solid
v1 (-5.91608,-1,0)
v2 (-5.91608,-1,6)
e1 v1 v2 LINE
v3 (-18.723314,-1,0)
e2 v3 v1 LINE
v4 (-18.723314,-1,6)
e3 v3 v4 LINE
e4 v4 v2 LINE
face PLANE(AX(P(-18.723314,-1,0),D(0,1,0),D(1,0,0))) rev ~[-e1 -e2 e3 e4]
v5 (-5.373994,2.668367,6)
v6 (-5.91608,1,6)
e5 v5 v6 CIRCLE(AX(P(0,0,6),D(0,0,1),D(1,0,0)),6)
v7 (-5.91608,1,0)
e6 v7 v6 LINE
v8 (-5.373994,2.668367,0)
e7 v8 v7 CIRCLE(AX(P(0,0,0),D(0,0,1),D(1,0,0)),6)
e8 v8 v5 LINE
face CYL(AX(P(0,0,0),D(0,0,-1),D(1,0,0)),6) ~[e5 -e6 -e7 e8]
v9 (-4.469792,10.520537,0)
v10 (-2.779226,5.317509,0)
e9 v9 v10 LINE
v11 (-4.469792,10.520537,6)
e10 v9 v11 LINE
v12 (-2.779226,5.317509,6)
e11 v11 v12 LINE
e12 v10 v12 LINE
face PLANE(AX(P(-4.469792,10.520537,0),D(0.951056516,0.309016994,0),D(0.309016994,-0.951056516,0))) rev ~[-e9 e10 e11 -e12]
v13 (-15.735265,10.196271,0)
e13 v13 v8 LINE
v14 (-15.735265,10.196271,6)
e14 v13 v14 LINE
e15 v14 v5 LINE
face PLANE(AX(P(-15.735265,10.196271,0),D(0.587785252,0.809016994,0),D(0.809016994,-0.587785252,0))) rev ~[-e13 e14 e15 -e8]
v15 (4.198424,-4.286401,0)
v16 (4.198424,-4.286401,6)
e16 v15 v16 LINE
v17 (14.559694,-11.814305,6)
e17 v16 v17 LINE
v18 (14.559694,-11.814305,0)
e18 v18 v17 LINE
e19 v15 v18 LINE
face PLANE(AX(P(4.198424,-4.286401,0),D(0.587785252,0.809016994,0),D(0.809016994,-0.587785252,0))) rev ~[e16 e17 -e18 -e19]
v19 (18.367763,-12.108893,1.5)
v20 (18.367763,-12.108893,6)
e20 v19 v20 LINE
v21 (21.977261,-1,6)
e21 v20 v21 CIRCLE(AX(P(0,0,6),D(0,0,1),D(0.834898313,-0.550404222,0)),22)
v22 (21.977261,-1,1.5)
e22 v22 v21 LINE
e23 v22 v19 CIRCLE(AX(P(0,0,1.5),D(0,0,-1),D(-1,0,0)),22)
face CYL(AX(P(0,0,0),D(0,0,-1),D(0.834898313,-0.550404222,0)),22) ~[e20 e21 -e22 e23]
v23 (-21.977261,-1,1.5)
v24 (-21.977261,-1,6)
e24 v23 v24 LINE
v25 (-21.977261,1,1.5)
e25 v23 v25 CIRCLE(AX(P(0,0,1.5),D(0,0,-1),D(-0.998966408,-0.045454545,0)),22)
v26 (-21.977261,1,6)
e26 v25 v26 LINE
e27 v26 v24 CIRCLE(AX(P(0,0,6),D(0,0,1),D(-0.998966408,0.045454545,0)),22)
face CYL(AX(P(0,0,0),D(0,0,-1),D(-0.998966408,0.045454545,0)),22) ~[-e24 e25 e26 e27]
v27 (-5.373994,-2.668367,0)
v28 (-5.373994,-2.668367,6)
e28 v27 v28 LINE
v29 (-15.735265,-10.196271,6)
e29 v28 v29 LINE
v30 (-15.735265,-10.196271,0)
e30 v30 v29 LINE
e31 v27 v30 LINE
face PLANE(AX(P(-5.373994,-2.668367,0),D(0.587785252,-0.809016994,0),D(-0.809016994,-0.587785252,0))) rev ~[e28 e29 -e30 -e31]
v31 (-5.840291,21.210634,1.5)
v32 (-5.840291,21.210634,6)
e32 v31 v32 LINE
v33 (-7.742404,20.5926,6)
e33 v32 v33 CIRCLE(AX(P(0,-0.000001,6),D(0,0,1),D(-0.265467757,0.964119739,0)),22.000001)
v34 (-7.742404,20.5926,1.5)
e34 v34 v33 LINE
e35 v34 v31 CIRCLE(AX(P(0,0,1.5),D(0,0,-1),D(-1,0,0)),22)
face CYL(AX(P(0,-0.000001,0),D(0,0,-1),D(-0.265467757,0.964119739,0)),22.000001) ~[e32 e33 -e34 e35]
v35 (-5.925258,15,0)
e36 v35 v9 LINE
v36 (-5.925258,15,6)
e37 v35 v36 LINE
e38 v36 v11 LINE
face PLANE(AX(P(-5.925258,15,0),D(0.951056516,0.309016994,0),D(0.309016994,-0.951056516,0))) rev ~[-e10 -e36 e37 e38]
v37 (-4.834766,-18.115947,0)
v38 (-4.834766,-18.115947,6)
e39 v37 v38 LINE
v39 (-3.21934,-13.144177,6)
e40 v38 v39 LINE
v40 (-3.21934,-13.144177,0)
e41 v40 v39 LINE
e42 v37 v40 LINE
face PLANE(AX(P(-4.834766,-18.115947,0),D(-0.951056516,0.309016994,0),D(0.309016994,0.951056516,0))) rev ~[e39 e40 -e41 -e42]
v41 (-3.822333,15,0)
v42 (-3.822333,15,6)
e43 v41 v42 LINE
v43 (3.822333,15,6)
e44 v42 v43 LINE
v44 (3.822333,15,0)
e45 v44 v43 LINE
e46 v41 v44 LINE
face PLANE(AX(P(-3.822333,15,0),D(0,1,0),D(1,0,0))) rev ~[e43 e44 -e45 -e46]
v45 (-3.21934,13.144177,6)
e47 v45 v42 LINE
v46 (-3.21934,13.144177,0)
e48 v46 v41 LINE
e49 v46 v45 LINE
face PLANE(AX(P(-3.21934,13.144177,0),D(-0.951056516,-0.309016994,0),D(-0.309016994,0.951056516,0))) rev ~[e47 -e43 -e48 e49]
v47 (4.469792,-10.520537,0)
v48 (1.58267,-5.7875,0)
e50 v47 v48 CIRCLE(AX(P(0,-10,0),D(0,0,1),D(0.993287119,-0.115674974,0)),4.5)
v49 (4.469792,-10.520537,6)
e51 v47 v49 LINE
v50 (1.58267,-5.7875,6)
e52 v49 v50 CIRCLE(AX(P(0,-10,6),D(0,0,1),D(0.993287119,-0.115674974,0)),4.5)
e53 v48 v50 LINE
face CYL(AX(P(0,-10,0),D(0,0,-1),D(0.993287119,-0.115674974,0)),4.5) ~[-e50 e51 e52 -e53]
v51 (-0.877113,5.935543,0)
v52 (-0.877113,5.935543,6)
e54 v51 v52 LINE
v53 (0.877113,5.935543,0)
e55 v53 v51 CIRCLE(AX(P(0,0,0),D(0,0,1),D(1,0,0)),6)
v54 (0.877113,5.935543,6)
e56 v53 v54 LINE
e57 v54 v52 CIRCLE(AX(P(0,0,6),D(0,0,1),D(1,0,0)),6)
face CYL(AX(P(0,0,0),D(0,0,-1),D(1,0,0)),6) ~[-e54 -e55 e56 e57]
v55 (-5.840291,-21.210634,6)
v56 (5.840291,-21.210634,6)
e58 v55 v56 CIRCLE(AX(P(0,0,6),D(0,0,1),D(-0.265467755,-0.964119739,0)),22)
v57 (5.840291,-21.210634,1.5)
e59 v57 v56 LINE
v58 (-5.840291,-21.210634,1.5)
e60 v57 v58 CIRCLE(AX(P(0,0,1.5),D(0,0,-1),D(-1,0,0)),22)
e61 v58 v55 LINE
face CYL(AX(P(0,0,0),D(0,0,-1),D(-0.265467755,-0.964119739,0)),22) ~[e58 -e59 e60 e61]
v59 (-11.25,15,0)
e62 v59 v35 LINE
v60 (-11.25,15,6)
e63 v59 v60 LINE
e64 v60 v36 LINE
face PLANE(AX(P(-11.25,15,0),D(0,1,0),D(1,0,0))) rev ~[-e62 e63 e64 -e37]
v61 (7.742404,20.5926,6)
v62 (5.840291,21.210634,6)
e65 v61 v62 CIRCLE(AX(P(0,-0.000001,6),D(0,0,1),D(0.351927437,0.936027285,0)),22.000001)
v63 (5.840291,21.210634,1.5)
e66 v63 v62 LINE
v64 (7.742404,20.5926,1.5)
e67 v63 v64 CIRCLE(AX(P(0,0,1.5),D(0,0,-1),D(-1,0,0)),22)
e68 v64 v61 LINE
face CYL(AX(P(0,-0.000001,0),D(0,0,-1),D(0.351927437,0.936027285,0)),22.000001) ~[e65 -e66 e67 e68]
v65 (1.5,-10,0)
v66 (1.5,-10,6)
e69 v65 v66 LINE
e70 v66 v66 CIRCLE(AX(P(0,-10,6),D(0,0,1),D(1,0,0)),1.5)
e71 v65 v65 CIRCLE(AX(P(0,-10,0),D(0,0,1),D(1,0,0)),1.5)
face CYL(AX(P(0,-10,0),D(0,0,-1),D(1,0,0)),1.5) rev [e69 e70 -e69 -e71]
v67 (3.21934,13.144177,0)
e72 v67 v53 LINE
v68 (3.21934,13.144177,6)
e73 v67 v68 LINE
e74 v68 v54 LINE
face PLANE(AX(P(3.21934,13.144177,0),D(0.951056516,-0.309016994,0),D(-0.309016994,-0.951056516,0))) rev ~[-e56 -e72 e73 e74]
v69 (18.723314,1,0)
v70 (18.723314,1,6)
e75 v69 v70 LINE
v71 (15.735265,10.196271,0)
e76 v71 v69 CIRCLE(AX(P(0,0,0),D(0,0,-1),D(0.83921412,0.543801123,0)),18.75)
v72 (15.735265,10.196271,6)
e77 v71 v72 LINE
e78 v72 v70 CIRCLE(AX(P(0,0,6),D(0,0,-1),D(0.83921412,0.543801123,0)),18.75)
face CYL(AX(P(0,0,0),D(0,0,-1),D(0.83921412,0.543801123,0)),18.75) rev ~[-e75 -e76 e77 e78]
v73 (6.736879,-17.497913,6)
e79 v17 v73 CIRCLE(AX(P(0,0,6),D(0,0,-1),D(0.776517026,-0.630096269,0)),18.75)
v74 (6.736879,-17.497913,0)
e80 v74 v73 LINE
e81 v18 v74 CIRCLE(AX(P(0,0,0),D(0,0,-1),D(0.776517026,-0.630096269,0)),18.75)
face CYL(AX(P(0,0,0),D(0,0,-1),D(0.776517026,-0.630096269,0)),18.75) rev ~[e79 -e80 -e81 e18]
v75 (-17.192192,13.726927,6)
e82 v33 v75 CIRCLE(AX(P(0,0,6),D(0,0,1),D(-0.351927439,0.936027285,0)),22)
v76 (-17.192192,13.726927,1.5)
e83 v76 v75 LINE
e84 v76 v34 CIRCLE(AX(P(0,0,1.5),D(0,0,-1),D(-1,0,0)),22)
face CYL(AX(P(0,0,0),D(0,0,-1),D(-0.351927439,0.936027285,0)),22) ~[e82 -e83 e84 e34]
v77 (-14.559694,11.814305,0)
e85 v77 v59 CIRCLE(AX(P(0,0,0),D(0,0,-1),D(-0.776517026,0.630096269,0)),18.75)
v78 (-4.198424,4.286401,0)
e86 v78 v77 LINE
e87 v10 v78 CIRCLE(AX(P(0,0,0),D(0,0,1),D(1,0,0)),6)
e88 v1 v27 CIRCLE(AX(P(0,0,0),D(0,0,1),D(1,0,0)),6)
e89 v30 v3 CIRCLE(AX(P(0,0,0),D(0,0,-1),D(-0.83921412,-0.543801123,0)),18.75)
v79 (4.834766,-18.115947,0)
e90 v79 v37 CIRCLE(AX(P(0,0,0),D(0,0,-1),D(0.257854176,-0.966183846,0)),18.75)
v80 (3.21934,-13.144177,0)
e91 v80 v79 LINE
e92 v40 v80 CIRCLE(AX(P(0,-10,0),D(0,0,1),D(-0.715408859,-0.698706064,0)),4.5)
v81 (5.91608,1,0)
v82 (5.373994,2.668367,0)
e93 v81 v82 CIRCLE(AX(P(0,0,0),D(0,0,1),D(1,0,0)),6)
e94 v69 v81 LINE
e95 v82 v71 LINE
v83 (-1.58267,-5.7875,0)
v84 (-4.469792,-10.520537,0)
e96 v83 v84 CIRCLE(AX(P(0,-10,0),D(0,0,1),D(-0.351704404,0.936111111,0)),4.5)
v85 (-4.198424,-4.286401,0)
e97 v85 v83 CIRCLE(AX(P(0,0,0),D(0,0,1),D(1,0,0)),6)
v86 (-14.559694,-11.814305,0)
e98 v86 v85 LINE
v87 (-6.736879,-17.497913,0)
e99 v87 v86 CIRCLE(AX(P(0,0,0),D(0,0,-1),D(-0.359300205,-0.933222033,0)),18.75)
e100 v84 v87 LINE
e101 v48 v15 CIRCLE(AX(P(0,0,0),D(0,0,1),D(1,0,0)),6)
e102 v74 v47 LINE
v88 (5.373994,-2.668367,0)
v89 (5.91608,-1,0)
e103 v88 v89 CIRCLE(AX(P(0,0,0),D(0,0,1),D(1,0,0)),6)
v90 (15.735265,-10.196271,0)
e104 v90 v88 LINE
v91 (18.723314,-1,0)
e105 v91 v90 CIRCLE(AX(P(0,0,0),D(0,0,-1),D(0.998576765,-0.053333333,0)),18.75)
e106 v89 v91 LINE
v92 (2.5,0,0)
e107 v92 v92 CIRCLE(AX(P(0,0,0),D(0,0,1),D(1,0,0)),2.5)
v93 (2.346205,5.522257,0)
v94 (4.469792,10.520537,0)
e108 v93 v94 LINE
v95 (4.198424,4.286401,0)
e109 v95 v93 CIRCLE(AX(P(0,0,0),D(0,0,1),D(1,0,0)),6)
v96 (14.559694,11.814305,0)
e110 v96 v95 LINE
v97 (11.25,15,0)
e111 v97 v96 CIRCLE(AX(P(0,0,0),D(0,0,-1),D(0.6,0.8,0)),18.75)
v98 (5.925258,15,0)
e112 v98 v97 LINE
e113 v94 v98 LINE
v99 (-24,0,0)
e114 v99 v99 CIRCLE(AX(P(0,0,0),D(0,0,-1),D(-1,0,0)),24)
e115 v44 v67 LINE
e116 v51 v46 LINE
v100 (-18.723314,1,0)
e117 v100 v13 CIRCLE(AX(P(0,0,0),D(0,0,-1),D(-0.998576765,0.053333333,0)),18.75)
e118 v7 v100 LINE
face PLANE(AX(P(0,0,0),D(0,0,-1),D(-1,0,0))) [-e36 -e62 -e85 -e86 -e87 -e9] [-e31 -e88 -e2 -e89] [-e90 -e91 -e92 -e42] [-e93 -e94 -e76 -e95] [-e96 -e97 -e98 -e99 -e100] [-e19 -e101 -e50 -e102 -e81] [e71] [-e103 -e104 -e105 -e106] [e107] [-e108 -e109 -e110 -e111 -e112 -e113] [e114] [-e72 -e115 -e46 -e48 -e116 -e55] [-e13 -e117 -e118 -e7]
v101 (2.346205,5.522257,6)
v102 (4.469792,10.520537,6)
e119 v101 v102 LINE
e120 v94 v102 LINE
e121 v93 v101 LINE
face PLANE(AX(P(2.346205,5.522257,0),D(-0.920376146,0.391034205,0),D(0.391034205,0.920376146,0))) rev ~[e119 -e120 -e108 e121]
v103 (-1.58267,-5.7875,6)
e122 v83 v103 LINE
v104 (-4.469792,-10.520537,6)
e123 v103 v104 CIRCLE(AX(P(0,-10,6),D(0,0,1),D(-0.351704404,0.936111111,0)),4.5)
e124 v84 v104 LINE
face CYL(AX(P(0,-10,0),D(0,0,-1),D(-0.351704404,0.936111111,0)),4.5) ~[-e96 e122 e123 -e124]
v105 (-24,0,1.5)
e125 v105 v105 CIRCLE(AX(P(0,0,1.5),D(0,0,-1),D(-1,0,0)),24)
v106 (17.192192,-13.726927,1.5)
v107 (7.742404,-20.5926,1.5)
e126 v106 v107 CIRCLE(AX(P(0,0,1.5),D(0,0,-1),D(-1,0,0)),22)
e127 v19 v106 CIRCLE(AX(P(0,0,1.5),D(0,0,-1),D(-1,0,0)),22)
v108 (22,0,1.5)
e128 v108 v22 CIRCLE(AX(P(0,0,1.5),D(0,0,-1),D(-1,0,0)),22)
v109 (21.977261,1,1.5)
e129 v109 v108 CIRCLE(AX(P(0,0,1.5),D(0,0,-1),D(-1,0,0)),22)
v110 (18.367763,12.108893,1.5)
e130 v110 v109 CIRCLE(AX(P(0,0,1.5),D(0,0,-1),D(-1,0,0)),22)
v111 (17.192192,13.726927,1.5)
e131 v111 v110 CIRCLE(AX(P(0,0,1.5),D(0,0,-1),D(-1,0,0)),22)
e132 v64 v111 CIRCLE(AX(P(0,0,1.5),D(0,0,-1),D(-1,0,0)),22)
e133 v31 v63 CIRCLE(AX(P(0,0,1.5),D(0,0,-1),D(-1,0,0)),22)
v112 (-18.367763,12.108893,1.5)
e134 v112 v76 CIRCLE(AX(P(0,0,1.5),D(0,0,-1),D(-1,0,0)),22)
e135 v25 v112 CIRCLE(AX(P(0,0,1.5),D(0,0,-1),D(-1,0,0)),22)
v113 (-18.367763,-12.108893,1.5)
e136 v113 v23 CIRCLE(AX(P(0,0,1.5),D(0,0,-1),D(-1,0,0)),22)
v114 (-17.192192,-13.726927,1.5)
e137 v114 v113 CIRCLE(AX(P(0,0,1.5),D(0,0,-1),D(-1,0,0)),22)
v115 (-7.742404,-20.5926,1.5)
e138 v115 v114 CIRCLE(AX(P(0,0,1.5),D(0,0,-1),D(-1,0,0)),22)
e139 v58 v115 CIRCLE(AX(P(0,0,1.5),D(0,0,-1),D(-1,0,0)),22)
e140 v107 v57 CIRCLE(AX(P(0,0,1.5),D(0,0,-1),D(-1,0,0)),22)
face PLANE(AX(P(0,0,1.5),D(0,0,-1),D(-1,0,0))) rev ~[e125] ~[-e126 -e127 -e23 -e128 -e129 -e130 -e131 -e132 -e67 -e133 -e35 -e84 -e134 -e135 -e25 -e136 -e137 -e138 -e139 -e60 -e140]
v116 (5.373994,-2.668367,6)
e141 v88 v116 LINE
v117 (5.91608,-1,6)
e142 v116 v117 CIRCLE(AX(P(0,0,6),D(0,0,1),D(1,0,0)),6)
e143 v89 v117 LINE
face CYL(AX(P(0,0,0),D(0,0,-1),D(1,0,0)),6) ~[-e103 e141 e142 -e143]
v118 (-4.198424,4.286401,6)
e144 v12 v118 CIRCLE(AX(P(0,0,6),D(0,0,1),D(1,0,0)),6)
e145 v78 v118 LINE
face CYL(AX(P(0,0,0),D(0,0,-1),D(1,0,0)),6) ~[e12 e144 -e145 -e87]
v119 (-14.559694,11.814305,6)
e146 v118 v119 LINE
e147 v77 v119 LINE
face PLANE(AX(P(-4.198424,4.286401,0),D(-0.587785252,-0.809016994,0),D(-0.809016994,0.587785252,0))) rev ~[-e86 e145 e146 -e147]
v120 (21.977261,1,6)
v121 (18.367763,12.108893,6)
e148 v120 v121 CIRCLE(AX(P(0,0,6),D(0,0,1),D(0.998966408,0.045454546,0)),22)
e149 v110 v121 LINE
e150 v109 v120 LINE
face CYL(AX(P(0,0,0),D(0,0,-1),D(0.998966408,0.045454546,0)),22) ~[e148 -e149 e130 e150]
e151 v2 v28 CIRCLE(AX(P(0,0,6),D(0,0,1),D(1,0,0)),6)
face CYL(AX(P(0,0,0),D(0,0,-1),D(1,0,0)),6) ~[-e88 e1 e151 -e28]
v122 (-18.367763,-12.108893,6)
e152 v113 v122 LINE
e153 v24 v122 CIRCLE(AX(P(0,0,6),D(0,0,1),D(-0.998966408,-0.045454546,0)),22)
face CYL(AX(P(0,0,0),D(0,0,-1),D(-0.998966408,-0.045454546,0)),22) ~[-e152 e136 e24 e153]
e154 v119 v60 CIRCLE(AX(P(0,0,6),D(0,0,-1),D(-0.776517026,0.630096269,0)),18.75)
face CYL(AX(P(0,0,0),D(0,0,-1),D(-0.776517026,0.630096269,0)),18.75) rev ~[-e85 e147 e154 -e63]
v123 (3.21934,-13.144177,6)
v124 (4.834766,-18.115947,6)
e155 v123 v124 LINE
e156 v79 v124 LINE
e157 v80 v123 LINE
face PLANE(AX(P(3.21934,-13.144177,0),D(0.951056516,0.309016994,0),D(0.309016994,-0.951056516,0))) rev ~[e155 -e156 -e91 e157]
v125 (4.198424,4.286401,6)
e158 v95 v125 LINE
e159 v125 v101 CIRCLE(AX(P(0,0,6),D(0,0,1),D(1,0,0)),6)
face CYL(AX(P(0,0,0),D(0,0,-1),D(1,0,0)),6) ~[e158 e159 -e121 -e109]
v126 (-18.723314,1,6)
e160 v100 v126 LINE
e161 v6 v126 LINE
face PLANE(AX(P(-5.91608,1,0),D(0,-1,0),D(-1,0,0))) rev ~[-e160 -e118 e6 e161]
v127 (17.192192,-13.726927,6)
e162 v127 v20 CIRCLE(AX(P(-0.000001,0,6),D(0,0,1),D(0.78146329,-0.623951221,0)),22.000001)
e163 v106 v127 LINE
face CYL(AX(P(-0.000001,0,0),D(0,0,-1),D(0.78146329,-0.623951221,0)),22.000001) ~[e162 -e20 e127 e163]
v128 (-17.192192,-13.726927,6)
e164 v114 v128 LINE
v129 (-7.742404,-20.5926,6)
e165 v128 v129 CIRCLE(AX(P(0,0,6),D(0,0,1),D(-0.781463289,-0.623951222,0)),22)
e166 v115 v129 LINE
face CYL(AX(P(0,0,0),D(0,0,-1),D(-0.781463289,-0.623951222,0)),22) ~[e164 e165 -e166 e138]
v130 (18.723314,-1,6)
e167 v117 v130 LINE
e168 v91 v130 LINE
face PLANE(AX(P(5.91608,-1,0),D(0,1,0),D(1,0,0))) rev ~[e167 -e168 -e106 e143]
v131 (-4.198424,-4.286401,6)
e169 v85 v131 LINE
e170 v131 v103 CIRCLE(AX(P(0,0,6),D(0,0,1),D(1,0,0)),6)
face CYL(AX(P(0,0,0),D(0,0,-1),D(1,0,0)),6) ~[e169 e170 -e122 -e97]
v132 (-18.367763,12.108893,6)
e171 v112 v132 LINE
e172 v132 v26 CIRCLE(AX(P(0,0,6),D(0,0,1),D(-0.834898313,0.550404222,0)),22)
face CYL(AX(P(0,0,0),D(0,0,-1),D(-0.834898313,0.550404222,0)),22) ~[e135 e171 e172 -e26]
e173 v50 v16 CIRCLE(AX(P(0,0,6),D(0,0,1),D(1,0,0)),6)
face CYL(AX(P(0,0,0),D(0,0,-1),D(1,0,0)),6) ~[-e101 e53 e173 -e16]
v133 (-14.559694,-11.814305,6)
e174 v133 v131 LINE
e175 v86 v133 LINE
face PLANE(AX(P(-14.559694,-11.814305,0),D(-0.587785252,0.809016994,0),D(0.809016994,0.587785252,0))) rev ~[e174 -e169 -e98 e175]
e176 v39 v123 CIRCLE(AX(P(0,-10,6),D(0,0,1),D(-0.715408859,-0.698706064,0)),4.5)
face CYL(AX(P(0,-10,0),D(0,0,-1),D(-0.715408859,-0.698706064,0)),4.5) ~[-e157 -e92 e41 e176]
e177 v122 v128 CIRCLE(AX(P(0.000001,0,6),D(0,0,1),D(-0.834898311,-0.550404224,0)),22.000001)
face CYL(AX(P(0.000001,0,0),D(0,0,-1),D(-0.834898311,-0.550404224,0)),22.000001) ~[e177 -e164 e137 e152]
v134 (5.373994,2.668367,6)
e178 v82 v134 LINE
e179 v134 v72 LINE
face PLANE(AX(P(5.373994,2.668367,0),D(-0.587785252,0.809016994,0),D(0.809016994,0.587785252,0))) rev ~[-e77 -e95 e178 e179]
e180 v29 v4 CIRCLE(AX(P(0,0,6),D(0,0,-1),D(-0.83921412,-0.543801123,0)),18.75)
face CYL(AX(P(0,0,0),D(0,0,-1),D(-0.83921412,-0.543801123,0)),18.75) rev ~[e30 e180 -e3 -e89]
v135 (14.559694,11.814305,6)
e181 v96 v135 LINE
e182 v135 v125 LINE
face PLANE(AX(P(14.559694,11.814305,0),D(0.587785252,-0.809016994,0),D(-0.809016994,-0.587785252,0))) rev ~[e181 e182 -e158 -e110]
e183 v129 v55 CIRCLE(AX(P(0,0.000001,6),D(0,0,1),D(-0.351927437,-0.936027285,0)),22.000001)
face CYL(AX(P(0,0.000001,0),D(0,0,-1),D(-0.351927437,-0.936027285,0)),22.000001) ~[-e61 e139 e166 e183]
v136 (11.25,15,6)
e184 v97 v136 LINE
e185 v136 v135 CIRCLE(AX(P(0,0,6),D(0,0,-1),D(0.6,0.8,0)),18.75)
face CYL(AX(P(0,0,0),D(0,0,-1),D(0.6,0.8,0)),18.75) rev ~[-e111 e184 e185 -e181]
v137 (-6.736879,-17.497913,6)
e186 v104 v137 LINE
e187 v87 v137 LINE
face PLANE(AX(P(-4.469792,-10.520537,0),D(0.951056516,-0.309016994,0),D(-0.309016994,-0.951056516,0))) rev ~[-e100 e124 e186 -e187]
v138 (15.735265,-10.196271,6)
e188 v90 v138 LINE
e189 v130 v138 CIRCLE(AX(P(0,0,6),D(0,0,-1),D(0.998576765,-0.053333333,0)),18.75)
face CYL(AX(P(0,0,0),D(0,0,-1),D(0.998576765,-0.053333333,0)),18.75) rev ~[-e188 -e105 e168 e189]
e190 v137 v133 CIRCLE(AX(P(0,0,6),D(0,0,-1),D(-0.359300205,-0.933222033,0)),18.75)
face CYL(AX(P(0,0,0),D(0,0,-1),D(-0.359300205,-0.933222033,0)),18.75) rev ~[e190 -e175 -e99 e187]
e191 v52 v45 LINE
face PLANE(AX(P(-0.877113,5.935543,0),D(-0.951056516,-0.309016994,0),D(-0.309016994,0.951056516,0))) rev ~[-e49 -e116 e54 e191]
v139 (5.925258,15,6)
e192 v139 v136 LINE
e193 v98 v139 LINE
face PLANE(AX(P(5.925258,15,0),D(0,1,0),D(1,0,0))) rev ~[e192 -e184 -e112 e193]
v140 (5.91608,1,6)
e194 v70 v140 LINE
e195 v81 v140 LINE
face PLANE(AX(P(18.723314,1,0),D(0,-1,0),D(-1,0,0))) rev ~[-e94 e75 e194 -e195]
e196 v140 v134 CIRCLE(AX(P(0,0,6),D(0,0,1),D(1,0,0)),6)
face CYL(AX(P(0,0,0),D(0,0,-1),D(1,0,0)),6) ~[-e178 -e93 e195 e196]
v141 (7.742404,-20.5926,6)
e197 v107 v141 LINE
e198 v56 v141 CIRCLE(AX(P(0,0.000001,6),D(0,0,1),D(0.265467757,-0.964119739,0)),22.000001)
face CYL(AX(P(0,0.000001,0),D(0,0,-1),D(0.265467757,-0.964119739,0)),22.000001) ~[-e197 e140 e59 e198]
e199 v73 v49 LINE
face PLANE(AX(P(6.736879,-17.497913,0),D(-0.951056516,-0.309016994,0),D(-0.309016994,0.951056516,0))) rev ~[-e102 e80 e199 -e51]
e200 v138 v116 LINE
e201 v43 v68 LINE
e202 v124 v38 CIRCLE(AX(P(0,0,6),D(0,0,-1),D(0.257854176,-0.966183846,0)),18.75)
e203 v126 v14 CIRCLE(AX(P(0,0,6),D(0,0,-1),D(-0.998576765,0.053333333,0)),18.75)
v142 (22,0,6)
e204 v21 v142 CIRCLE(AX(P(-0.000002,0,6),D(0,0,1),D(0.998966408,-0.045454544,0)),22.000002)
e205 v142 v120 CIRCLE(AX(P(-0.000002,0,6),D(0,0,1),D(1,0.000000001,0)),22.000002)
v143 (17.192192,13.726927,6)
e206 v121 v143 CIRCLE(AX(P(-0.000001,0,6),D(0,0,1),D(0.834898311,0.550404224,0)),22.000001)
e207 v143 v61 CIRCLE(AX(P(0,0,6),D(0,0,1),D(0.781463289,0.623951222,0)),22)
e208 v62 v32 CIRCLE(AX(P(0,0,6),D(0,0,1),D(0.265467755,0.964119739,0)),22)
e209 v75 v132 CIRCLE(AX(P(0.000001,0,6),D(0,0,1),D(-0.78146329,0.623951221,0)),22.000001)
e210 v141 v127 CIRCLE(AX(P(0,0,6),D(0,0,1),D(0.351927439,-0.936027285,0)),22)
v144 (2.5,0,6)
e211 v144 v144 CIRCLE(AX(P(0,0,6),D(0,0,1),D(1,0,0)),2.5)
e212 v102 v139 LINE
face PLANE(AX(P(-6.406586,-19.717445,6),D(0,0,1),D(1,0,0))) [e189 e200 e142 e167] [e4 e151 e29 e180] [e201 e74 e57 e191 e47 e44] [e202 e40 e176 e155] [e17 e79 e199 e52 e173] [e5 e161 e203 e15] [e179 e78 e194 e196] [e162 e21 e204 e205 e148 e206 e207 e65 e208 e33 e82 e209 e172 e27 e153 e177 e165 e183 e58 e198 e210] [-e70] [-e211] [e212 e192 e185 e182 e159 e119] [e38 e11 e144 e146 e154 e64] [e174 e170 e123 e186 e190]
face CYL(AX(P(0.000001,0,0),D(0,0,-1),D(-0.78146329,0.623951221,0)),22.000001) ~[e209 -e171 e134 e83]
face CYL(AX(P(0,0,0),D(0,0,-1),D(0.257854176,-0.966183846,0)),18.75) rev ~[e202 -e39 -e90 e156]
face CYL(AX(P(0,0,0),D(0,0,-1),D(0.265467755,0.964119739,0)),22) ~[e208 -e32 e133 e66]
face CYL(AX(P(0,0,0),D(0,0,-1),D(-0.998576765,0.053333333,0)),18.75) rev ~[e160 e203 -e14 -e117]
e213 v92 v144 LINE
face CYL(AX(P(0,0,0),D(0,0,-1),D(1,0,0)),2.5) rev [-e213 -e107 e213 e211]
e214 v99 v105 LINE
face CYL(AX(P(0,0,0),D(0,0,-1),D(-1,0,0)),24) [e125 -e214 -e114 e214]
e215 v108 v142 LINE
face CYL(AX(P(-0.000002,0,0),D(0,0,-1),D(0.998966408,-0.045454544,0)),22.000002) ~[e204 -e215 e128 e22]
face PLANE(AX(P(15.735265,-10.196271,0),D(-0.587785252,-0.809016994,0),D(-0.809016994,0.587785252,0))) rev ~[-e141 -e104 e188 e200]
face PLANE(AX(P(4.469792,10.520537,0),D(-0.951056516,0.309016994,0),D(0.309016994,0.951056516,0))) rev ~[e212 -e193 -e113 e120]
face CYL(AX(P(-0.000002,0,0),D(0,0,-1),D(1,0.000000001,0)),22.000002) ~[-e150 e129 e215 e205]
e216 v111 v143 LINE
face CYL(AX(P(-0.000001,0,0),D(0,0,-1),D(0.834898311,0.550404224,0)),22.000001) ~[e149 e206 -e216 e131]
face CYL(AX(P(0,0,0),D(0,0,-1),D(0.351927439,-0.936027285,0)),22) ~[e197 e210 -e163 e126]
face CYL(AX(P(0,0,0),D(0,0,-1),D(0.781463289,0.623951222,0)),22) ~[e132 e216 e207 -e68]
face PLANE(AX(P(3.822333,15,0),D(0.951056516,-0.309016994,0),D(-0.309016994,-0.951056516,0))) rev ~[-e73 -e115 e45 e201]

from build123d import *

# Parameters (mm, degrees)
ESQUISSE1_R        = 6
ESQUISSE1_R_2      = 2.5
ESQUISSE1_R_3      = 1.5
BOSS_EXTRU_1_DEPTH = 6
ESQUISSE4_R        = 24
ESQUISSE4_R_2      = 22
BOSS_EXTRU_3_DEPTH = 1.5


with BuildPart() as part:
    # Esquisse1 → Boss.-Extru.1 (new body)
    # profile 1 of 57: a face of its own
    with BuildSketch(Plane.XY):
        Circle(ESQUISSE1_R)
        Circle(ESQUISSE1_R_2, mode=Mode.SUBTRACT)
    # profile 2 of 57: a face of its own
    with BuildSketch(Plane.XY):
        with BuildLine():
            ThreePointArc((4.469792035, -10.520537382), (3.841677281, -7.656601684), (1.582669817, -5.7875))
            ThreePointArc((1.582669817, -5.7875), (0, -6), (-1.582669817, -5.7875))
            ThreePointArc((-1.582669817, -5.7875), (-3.841677281, -7.656601684), (-4.469792035, -10.520537382))
            ThreePointArc((-4.469792035, -10.520537382), (-4.06221109, -11.936089115), (-3.219339867, -13.144177288))
            ThreePointArc((-3.219339867, -13.144177288), (0, -14.5), (3.219339867, -13.144177288))
            ThreePointArc((3.219339867, -13.144177288), (4.06221109, -11.936089115), (4.469792035, -10.520537382))
        make_face()
        with Locations((0, -10)):
            Circle(ESQUISSE1_R_3, mode=Mode.SUBTRACT)
    # profile 3 of 57: a face of its own
    with BuildSketch(Plane.XY):
        with BuildLine():
            ThreePointArc((4.834765807, -18.115947107), (5.794068645, -17.832309681), (6.736878839, -17.497913119))
            Line((6.736878839, -17.497913119), (4.469792035, -10.520537382))
            ThreePointArc((4.469792035, -10.520537382), (4.06221109, -11.936089115), (3.219339867, -13.144177288))
            Line((3.219339867, -13.144177288), (4.834765807, -18.115947107))
        make_face()
    # profile 4 of 57: a face of its own
    with BuildSketch(Plane.XY):
        with BuildLine():
            ThreePointArc((-3.219339867, -13.144177288), (-4.06221109, -11.936089115), (-4.469792035, -10.520537382))
            Line((-4.469792035, -10.520537382), (-6.736878839, -17.497913119))
            ThreePointArc((-6.736878839, -17.497913119), (-5.794068645, -17.832309681), (-4.834765807, -18.115947107))
            Line((-4.834765807, -18.115947107), (-3.219339867, -13.144177288))
        make_face()
    # profile 5 of 57: a face of its own
    with BuildSketch(Plane.XY):
        with BuildLine():
            Line((-14.559694243, -11.814305039), (-4.198423832, -4.286401442))
            ThreePointArc((-4.198423832, -4.286401442), (-4.854101966, -3.526711514), (-5.373994337, -2.668367454))
            Line((-5.373994337, -2.668367454), (-15.735264747, -10.196271051))
            ThreePointArc((-15.735264747, -10.196271051), (-15.169068645, -11.02097348), (-14.559694243, -11.814305039))
        make_face()
    # profile 6 of 57: a face of its own
    with BuildSketch(Plane.XY):
        with BuildLine():
            Line((-18.723314343, -1), (-5.916079783, -1))
            ThreePointArc((-5.916079783, -1), (-6, 0), (-5.916079783, 1))
            Line((-5.916079783, 1), (-18.723314343, 1))
            ThreePointArc((-18.723314343, 1), (-18.75, 0), (-18.723314343, -1))
        make_face()
    # profile 7 of 57: a face of its own
    with BuildSketch(Plane.XY):
        with BuildLine():
            Line((-15.735264747, 10.196271051), (-5.373994337, 2.668367454))
            ThreePointArc((-5.373994337, 2.668367454), (-4.854101966, 3.526711514), (-4.198423832, 4.286401442))
            Line((-4.198423832, 4.286401442), (-14.559694243, 11.814305039))
            ThreePointArc((-14.559694243, 11.814305039), (-15.169068645, 11.02097348), (-15.735264747, 10.196271051))
        make_face()
    # profile 8 of 57: a face of its own
    with BuildSketch(Plane.XY):
        with BuildLine():
            ThreePointArc((-2.779225709, 5.317509234), (-1.854101966, 5.706339098), (-0.877112677, 5.935543223))
            Line((-0.877112677, 5.935543223), (-3.219339867, 13.144177288))
            Line((-3.219339867, 13.144177288), (-3.822333219, 15))
            Line((-3.822333219, 15), (-5.925257668, 15))
            Line((-5.925257668, 15), (-4.469792035, 10.520537382))
            Line((-4.469792035, 10.520537382), (-2.779225709, 5.317509234))
        make_face()
    # profile 9 of 57: a face of its own
    with BuildSketch(Plane.XY):
        with BuildLine():
            ThreePointArc((0.877112677, 5.935543223), (1.624852602, 5.775798994), (2.346205228, 5.522256878))
            Line((2.346205228, 5.522256878), (4.469792035, 10.520537382))
            Line((4.469792035, 10.520537382), (5.925257668, 15))
            Line((5.925257668, 15), (3.822333219, 15))
            Line((3.822333219, 15), (3.219339867, 13.144177288))
            Line((3.219339867, 13.144177288), (0.877112677, 5.935543223))
        make_face()
    # profile 10 of 57: a face of its own
    with BuildSketch(Plane.XY):
        with BuildLine():
            ThreePointArc((4.198423832, 4.286401442), (4.854101966, 3.526711514), (5.373994337, 2.668367454))
            Line((5.373994337, 2.668367454), (15.735264747, 10.196271051))
            ThreePointArc((15.735264747, 10.196271051), (15.169068645, 11.02097348), (14.559694243, 11.814305039))
            Line((14.559694243, 11.814305039), (4.198423832, 4.286401442))
        make_face()
    # profile 11 of 57: a face of its own
    with BuildSketch(Plane.XY):
        with BuildLine():
            ThreePointArc((6, 0), (5.978983137, -0.501757562), (5.916079783, -1))
            Line((5.916079783, -1), (18.723314343, -1))
            ThreePointArc((18.723314343, -1), (18.743327399, -0.500177999), (18.75, 0))
            ThreePointArc((18.75, 0), (18.743327399, 0.500177999), (18.723314343, 1))
            Line((18.723314343, 1), (5.916079783, 1))
            ThreePointArc((5.916079783, 1), (5.978983137, 0.501757562), (6, 0))
        make_face()
    # profile 12 of 57: a face of its own
    with BuildSketch(Plane.XY):
        with BuildLine():
            Line((15.735264747, -10.196271051), (5.373994337, -2.668367454))
            ThreePointArc((5.373994337, -2.668367454), (4.854101966, -3.526711514), (4.198423832, -4.286401442))
            Line((4.198423832, -4.286401442), (14.559694243, -11.814305039))
            ThreePointArc((14.559694243, -11.814305039), (15.169068645, -11.02097348), (15.735264747, -10.196271051))
        make_face()
    # profile 13 of 57: a face of its own
    with BuildSketch(Plane.XY):
        with BuildLine():
            ThreePointArc((-6.968959178, -18.212182955), (-11.46181242, -15.77583139), (-15.167288456, -12.255748075))
            Line((-15.167288456, -12.255748075), (-17.192192367, -13.726926882))
            ThreePointArc((-17.192192367, -13.726926882), (-12.93127555, -17.798373876), (-7.742403648, -20.592600267))
            Line((-7.742403648, -20.592600267), (-6.968959178, -18.212182955))
        make_face()
    # profile 14 of 57: a face of its own
    with BuildSketch(Plane.XY):
        with BuildLine():
            Line((-17.192192367, -13.726926882), (-15.167288456, -12.255748075))
            ThreePointArc((-15.167288456, -12.255748075), (-15.77583139, -11.46181242), (-16.342858961, -10.637714087))
            Line((-16.342858961, -10.637714087), (-18.367762872, -12.108892893))
            ThreePointArc((-18.367762872, -12.108892893), (-17.798373876, -12.93127555), (-17.192192367, -13.726926882))
        make_face()
    # profile 15 of 57: a face of its own
    with BuildSketch(Plane.XY):
        with BuildLine():
            Line((-18.367762872, -12.108892893), (-16.342858961, -10.637714087))
            ThreePointArc((-16.342858961, -10.637714087), (-18.545602068, -6.02583139), (-19.474342094, -1))
            Line((-19.474342094, -1), (-21.977260976, -1))
            ThreePointArc((-21.977260976, -1), (-20.923243358, -6.798373876), (-18.367762872, -12.108892893))
        make_face()
    # profile 16 of 57: a face of its own
    with BuildSketch(Plane.XY):
        with BuildLine():
            Line((-21.977260976, -1), (-19.474342094, -1))
            ThreePointArc((-19.474342094, -1), (-19.5, 0), (-19.474342094, 1))
            Line((-19.474342094, 1), (-21.977260976, 1))
            ThreePointArc((-21.977260976, 1), (-22, 0), (-21.977260976, -1))
        make_face()
    # profile 17 of 57: a face of its own
    with BuildSketch(Plane.XY):
        with BuildLine():
            Line((-21.977260976, 1), (-19.474342094, 1))
            ThreePointArc((-19.474342094, 1), (-18.545602068, 6.02583139), (-16.342858961, 10.637714087))
            Line((-16.342858961, 10.637714087), (-18.367762872, 12.108892893))
            ThreePointArc((-18.367762872, 12.108892893), (-20.923243358, 6.798373876), (-21.977260976, 1))
        make_face()
    # profile 18 of 57: a face of its own
    with BuildSketch(Plane.XY):
        with BuildLine():
            Line((-18.367762872, 12.108892893), (-16.342858961, 10.637714087))
            ThreePointArc((-16.342858961, 10.637714087), (-15.77583139, 11.46181242), (-15.167288456, 12.255748075))
            Line((-15.167288456, 12.255748075), (-17.192192367, 13.726926882))
            ThreePointArc((-17.192192367, 13.726926882), (-17.798373876, 12.93127555), (-18.367762872, 12.108892893))
        make_face()
    # profile 19 of 57: a face of its own
    with BuildSketch(Plane.XY):
        with BuildLine():
            ThreePointArc((-15.167288456, 12.255748075), (-11.46181242, 15.77583139), (-6.968959178, 18.212182955))
            Line((-6.968959178, 18.212182955), (-7.742403648, 20.592600267))
            ThreePointArc((-7.742403648, 20.592600267), (-12.93127555, 17.798373876), (-17.192192367, 13.726926882))
            Line((-17.192192367, 13.726926882), (-15.167288456, 12.255748075))
        make_face()
    # profile 20 of 57: a face of its own
    with BuildSketch(Plane.XY):
        with BuildLine():
            ThreePointArc((-6.968959178, 18.212182955), (-6.02583139, 18.545602068), (-5.066846145, 18.830216944))
            Line((-5.066846145, 18.830216944), (-5.840290615, 21.210634256))
            ThreePointArc((-5.840290615, 21.210634256), (-6.798373876, 20.923243358), (-7.742403648, 20.592600267))
            Line((-7.742403648, 20.592600267), (-6.968959178, 18.212182955))
        make_face()
    # profile 21 of 57: a face of its own
    with BuildSketch(Plane.XY):
        with BuildLine():
            Line((-11.25, 15), (-5.925257668, 15))
            Line((-5.925257668, 15), (-6.736878839, 17.497913119))
            ThreePointArc((-6.736878839, 17.497913119), (-9.079749175, 16.404897285), (-11.25, 15))
        make_face()
    # profile 22 of 57: a face of its own
    with BuildSketch(Plane.XY):
        with BuildLine():
            Line((-15.167288456, 12.255748075), (-14.559694243, 11.814305039))
            ThreePointArc((-14.559694243, 11.814305039), (-13.002778254, 13.508895502), (-11.25, 15))
            ThreePointArc((-11.25, 15), (-9.079749175, 16.404897285), (-6.736878839, 17.497913119))
            Line((-6.736878839, 17.497913119), (-6.968959178, 18.212182955))
            ThreePointArc((-6.968959178, 18.212182955), (-11.46181242, 15.77583139), (-15.167288456, 12.255748075))
        make_face()
    # profile 23 of 57: a face of its own
    with BuildSketch(Plane.XY):
        with BuildLine():
            Line((-16.342858961, 10.637714087), (-15.735264747, 10.196271051))
            ThreePointArc((-15.735264747, 10.196271051), (-15.169068645, 11.02097348), (-14.559694243, 11.814305039))
            Line((-14.559694243, 11.814305039), (-15.167288456, 12.255748075))
            ThreePointArc((-15.167288456, 12.255748075), (-15.77583139, 11.46181242), (-16.342858961, 10.637714087))
        make_face()
    # profile 24 of 57: a face of its own
    with BuildSketch(Plane.XY):
        with BuildLine():
            Line((-4.834765807, 18.115947107), (-5.066846145, 18.830216944))
            ThreePointArc((-5.066846145, 18.830216944), (-6.02583139, 18.545602068), (-6.968959178, 18.212182955))
            Line((-6.968959178, 18.212182955), (-6.736878839, 17.497913119))
            ThreePointArc((-6.736878839, 17.497913119), (-5.794068645, 17.832309681), (-4.834765807, 18.115947107))
        make_face()
    # profile 25 of 57: a face of its own
    with BuildSketch(Plane.XY):
        with BuildLine():
            Line((-5.925257668, 15), (-3.822333219, 15))
            Line((-3.822333219, 15), (-4.834765807, 18.115947107))
            ThreePointArc((-4.834765807, 18.115947107), (-5.794068645, 17.832309681), (-6.736878839, 17.497913119))
            Line((-6.736878839, 17.497913119), (-5.925257668, 15))
        make_face()
    # profile 26 of 57: a face of its own
    with BuildSketch(Plane.XY):
        with BuildLine():
            Line((-3.822333219, 15), (3.822333219, 15))
            Line((3.822333219, 15), (4.834765807, 18.115947107))
            ThreePointArc((4.834765807, 18.115947107), (0, 18.75), (-4.834765807, 18.115947107))
            Line((-4.834765807, 18.115947107), (-3.822333219, 15))
        make_face()
    # profile 27 of 57: a face of its own
    with BuildSketch(Plane.XY):
        with BuildLine():
            Line((4.834765807, 18.115947107), (5.066846145, 18.830216944))
            ThreePointArc((5.066846145, 18.830216944), (0, 19.5), (-5.066846145, 18.830216944))
            Line((-5.066846145, 18.830216944), (-4.834765807, 18.115947107))
            ThreePointArc((-4.834765807, 18.115947107), (0, 18.75), (4.834765807, 18.115947107))
        make_face()
    # profile 28 of 57: a face of its own
    with BuildSketch(Plane.XY):
        with BuildLine():
            Line((3.822333219, 15), (5.925257668, 15))
            Line((5.925257668, 15), (6.736878839, 17.497913119))
            ThreePointArc((6.736878839, 17.497913119), (5.794068645, 17.832309681), (4.834765807, 18.115947107))
            Line((4.834765807, 18.115947107), (3.822333219, 15))
        make_face()
    # profile 29 of 57: a face of its own
    with BuildSketch(Plane.XY):
        with BuildLine():
            Line((6.736878839, 17.497913119), (6.968959178, 18.212182955))
            ThreePointArc((6.968959178, 18.212182955), (6.02583139, 18.545602068), (5.066846145, 18.830216944))
            Line((5.066846145, 18.830216944), (4.834765807, 18.115947107))
            ThreePointArc((4.834765807, 18.115947107), (5.794068645, 17.832309681), (6.736878839, 17.497913119))
        make_face()
    # profile 30 of 57: a face of its own
    with BuildSketch(Plane.XY):
        with BuildLine():
            ThreePointArc((11.25, 15), (13.002778254, 13.508895502), (14.559694243, 11.814305039))
            Line((14.559694243, 11.814305039), (15.167288456, 12.255748075))
            ThreePointArc((15.167288456, 12.255748075), (11.46181242, 15.77583139), (6.968959178, 18.212182955))
            Line((6.968959178, 18.212182955), (6.736878839, 17.497913119))
            ThreePointArc((6.736878839, 17.497913119), (9.079749175, 16.404897285), (11.25, 15))
        make_face()
    # profile 31 of 57: a face of its own
    with BuildSketch(Plane.XY):
        with BuildLine():
            Line((5.925257668, 15), (11.25, 15))
            ThreePointArc((11.25, 15), (9.079749175, 16.404897285), (6.736878839, 17.497913119))
            Line((6.736878839, 17.497913119), (5.925257668, 15))
        make_face()
    # profile 32 of 57: a face of its own
    with BuildSketch(Plane.XY):
        with BuildLine():
            ThreePointArc((6.968959178, 18.212182955), (11.46181242, 15.77583139), (15.167288456, 12.255748075))
            Line((15.167288456, 12.255748075), (17.192192367, 13.726926882))
            ThreePointArc((17.192192367, 13.726926882), (12.93127555, 17.798373876), (7.742403648, 20.592600267))
            Line((7.742403648, 20.592600267), (6.968959178, 18.212182955))
        make_face()
    # profile 33 of 57: a face of its own
    with BuildSketch(Plane.XY):
        with BuildLine():
            ThreePointArc((5.066846145, 18.830216944), (6.02583139, 18.545602068), (6.968959178, 18.212182955))
            Line((6.968959178, 18.212182955), (7.742403648, 20.592600267))
            ThreePointArc((7.742403648, 20.592600267), (6.798373876, 20.923243358), (5.840290615, 21.210634256))
            Line((5.840290615, 21.210634256), (5.066846145, 18.830216944))
        make_face()
    # profile 34 of 57: a face of its own
    with BuildSketch(Plane.XY):
        with BuildLine():
            ThreePointArc((15.167288456, 12.255748075), (15.77583139, 11.46181242), (16.342858961, 10.637714087))
            Line((16.342858961, 10.637714087), (18.367762872, 12.108892893))
            ThreePointArc((18.367762872, 12.108892893), (17.798373876, 12.93127555), (17.192192367, 13.726926882))
            Line((17.192192367, 13.726926882), (15.167288456, 12.255748075))
        make_face()
    # profile 35 of 57: a face of its own
    with BuildSketch(Plane.XY):
        with BuildLine():
            ThreePointArc((16.342858961, 10.637714087), (18.545602068, 6.02583139), (19.474342094, 1))
            Line((19.474342094, 1), (21.977260976, 1))
            ThreePointArc((21.977260976, 1), (20.923243358, 6.798373876), (18.367762872, 12.108892893))
            Line((18.367762872, 12.108892893), (16.342858961, 10.637714087))
        make_face()
    # profile 36 of 57: a face of its own
    with BuildSketch(Plane.XY):
        with BuildLine():
            ThreePointArc((-5.066846145, 18.830216944), (0, 19.5), (5.066846145, 18.830216944))
            Line((5.066846145, 18.830216944), (5.840290615, 21.210634256))
            ThreePointArc((5.840290615, 21.210634256), (0, 22), (-5.840290615, 21.210634256))
            Line((-5.840290615, 21.210634256), (-5.066846145, 18.830216944))
        make_face()
    # profile 37 of 57: a face of its own
    with BuildSketch(Plane.XY):
        with BuildLine():
            ThreePointArc((19.5, 0), (19.493584468, -0.500164555), (19.474342094, -1))
            Line((19.474342094, -1), (21.977260976, -1))
            ThreePointArc((21.977260976, -1), (21.994314509, -0.500129249), (22, 0))
            ThreePointArc((22, 0), (21.994314509, 0.500129249), (21.977260976, 1))
            Line((21.977260976, 1), (19.474342094, 1))
            ThreePointArc((19.474342094, 1), (19.493584468, 0.500164555), (19.5, 0))
        make_face()
    # profile 38 of 57: a face of its own
    with BuildSketch(Plane.XY):
        with BuildLine():
            ThreePointArc((18.75, 0), (18.743327399, -0.500177999), (18.723314343, -1))
            Line((18.723314343, -1), (19.474342094, -1))
            ThreePointArc((19.474342094, -1), (19.493584468, -0.500164555), (19.5, 0))
            ThreePointArc((19.5, 0), (19.493584468, 0.500164555), (19.474342094, 1))
            Line((19.474342094, 1), (18.723314343, 1))
            ThreePointArc((18.723314343, 1), (18.743327399, 0.500177999), (18.75, 0))
        make_face()
    # profile 39 of 57: a face of its own
    with BuildSketch(Plane.XY):
        with BuildLine():
            ThreePointArc((15.735264747, 10.196271051), (17.832309681, 5.794068645), (18.723314343, 1))
            Line((18.723314343, 1), (19.474342094, 1))
            ThreePointArc((19.474342094, 1), (18.545602068, 6.02583139), (16.342858961, 10.637714087))
            Line((16.342858961, 10.637714087), (15.735264747, 10.196271051))
        make_face()
    # profile 40 of 57: a face of its own
    with BuildSketch(Plane.XY):
        with BuildLine():
            ThreePointArc((14.559694243, 11.814305039), (15.169068645, 11.02097348), (15.735264747, 10.196271051))
            Line((15.735264747, 10.196271051), (16.342858961, 10.637714087))
            ThreePointArc((16.342858961, 10.637714087), (15.77583139, 11.46181242), (15.167288456, 12.255748075))
            Line((15.167288456, 12.255748075), (14.559694243, 11.814305039))
        make_face()
    # profile 41 of 57: a face of its own
    with BuildSketch(Plane.XY):
        with BuildLine():
            ThreePointArc((19.474342094, -1), (18.545602068, -6.02583139), (16.342858961, -10.637714087))
            Line((16.342858961, -10.637714087), (18.367762872, -12.108892893))
            ThreePointArc((18.367762872, -12.108892893), (20.923243358, -6.798373876), (21.977260976, -1))
            Line((21.977260976, -1), (19.474342094, -1))
        make_face()
    # profile 42 of 57: a face of its own
    with BuildSketch(Plane.XY):
        with BuildLine():
            ThreePointArc((18.723314343, -1), (17.832309681, -5.794068645), (15.735264747, -10.196271051))
            Line((15.735264747, -10.196271051), (16.342858961, -10.637714087))
            ThreePointArc((16.342858961, -10.637714087), (18.545602068, -6.02583139), (19.474342094, -1))
            Line((19.474342094, -1), (18.723314343, -1))
        make_face()
    # profile 43 of 57: a face of its own
    with BuildSketch(Plane.XY):
        with BuildLine():
            Line((18.367762872, -12.108892893), (16.342858961, -10.637714087))
            ThreePointArc((16.342858961, -10.637714087), (15.77583139, -11.46181242), (15.167288456, -12.255748075))
            Line((15.167288456, -12.255748075), (17.192192367, -13.726926882))
            ThreePointArc((17.192192367, -13.726926882), (17.798373876, -12.93127555), (18.367762872, -12.108892893))
        make_face()
    # profile 44 of 57: a face of its own
    with BuildSketch(Plane.XY):
        with BuildLine():
            Line((16.342858961, -10.637714087), (15.735264747, -10.196271051))
            ThreePointArc((15.735264747, -10.196271051), (15.169068645, -11.02097348), (14.559694243, -11.814305039))
            Line((14.559694243, -11.814305039), (15.167288456, -12.255748075))
            ThreePointArc((15.167288456, -12.255748075), (15.77583139, -11.46181242), (16.342858961, -10.637714087))
        make_face()
    # profile 45 of 57: a face of its own
    with BuildSketch(Plane.XY):
        with BuildLine():
            Line((17.192192367, -13.726926882), (15.167288456, -12.255748075))
            ThreePointArc((15.167288456, -12.255748075), (11.46181242, -15.77583139), (6.968959178, -18.212182955))
            Line((6.968959178, -18.212182955), (7.742403648, -20.592600267))
            ThreePointArc((7.742403648, -20.592600267), (12.93127555, -17.798373876), (17.192192367, -13.726926882))
        make_face()
    # profile 46 of 57: a face of its own
    with BuildSketch(Plane.XY):
        with BuildLine():
            Line((15.167288456, -12.255748075), (14.559694243, -11.814305039))
            ThreePointArc((14.559694243, -11.814305039), (11.02097348, -15.169068645), (6.736878839, -17.497913119))
            Line((6.736878839, -17.497913119), (6.968959178, -18.212182955))
            ThreePointArc((6.968959178, -18.212182955), (11.46181242, -15.77583139), (15.167288456, -12.255748075))
        make_face()
    # profile 47 of 57: a face of its own
    with BuildSketch(Plane.XY):
        with BuildLine():
            Line((7.742403648, -20.592600267), (6.968959178, -18.212182955))
            ThreePointArc((6.968959178, -18.212182955), (6.02583139, -18.545602068), (5.066846145, -18.830216944))
            Line((5.066846145, -18.830216944), (5.840290615, -21.210634256))
            ThreePointArc((5.840290615, -21.210634256), (6.798373876, -20.923243358), (7.742403648, -20.592600267))
        make_face()
    # profile 48 of 57: a face of its own
    with BuildSketch(Plane.XY):
        with BuildLine():
            Line((6.968959178, -18.212182955), (6.736878839, -17.497913119))
            ThreePointArc((6.736878839, -17.497913119), (5.794068645, -17.832309681), (4.834765807, -18.115947107))
            Line((4.834765807, -18.115947107), (5.066846145, -18.830216944))
            ThreePointArc((5.066846145, -18.830216944), (6.02583139, -18.545602068), (6.968959178, -18.212182955))
        make_face()
    # profile 49 of 57: a face of its own
    with BuildSketch(Plane.XY):
        with BuildLine():
            Line((5.066846145, -18.830216944), (4.834765807, -18.115947107))
            ThreePointArc((4.834765807, -18.115947107), (0, -18.75), (-4.834765807, -18.115947107))
            Line((-4.834765807, -18.115947107), (-5.066846145, -18.830216944))
            ThreePointArc((-5.066846145, -18.830216944), (0, -19.5), (5.066846145, -18.830216944))
        make_face()
    # profile 50 of 57: a face of its own
    with BuildSketch(Plane.XY):
        with BuildLine():
            Line((5.840290615, -21.210634256), (5.066846145, -18.830216944))
            ThreePointArc((5.066846145, -18.830216944), (0, -19.5), (-5.066846145, -18.830216944))
            Line((-5.066846145, -18.830216944), (-5.840290615, -21.210634256))
            ThreePointArc((-5.840290615, -21.210634256), (0, -22), (5.840290615, -21.210634256))
        make_face()
    # profile 51 of 57: a face of its own
    with BuildSketch(Plane.XY):
        with BuildLine():
            Line((-5.066846145, -18.830216944), (-4.834765807, -18.115947107))
            ThreePointArc((-4.834765807, -18.115947107), (-5.794068645, -17.832309681), (-6.736878839, -17.497913119))
            Line((-6.736878839, -17.497913119), (-6.968959178, -18.212182955))
            ThreePointArc((-6.968959178, -18.212182955), (-6.02583139, -18.545602068), (-5.066846145, -18.830216944))
        make_face()
    # profile 52 of 57: a face of its own
    with BuildSketch(Plane.XY):
        with BuildLine():
            ThreePointArc((-6.736878839, -17.497913119), (-11.02097348, -15.169068645), (-14.559694243, -11.814305039))
            Line((-14.559694243, -11.814305039), (-15.167288456, -12.255748075))
            ThreePointArc((-15.167288456, -12.255748075), (-11.46181242, -15.77583139), (-6.968959178, -18.212182955))
            Line((-6.968959178, -18.212182955), (-6.736878839, -17.497913119))
        make_face()
    # profile 53 of 57: a face of its own
    with BuildSketch(Plane.XY):
        with BuildLine():
            Line((-15.167288456, -12.255748075), (-14.559694243, -11.814305039))
            ThreePointArc((-14.559694243, -11.814305039), (-15.169068645, -11.02097348), (-15.735264747, -10.196271051))
            Line((-15.735264747, -10.196271051), (-16.342858961, -10.637714087))
            ThreePointArc((-16.342858961, -10.637714087), (-15.77583139, -11.46181242), (-15.167288456, -12.255748075))
        make_face()
    # profile 54 of 57: a face of its own
    with BuildSketch(Plane.XY):
        with BuildLine():
            Line((-19.474342094, 1), (-18.723314343, 1))
            ThreePointArc((-18.723314343, 1), (-17.832309681, 5.794068645), (-15.735264747, 10.196271051))
            Line((-15.735264747, 10.196271051), (-16.342858961, 10.637714087))
            ThreePointArc((-16.342858961, 10.637714087), (-18.545602068, 6.02583139), (-19.474342094, 1))
        make_face()
    # profile 55 of 57: a face of its own
    with BuildSketch(Plane.XY):
        with BuildLine():
            Line((-19.474342094, -1), (-18.723314343, -1))
            ThreePointArc((-18.723314343, -1), (-18.75, 0), (-18.723314343, 1))
            Line((-18.723314343, 1), (-19.474342094, 1))
            ThreePointArc((-19.474342094, 1), (-19.5, 0), (-19.474342094, -1))
        make_face()
    # profile 56 of 57: a face of its own
    with BuildSketch(Plane.XY):
        with BuildLine():
            Line((-16.342858961, -10.637714087), (-15.735264747, -10.196271051))
            ThreePointArc((-15.735264747, -10.196271051), (-17.832309681, -5.794068645), (-18.723314343, -1))
            Line((-18.723314343, -1), (-19.474342094, -1))
            ThreePointArc((-19.474342094, -1), (-18.545602068, -6.02583139), (-16.342858961, -10.637714087))
        make_face()
    # profile 57 of 57: a face of its own
    with BuildSketch(Plane.XY):
        with BuildLine():
            Line((-5.840290615, -21.210634256), (-5.066846145, -18.830216944))
            ThreePointArc((-5.066846145, -18.830216944), (-6.02583139, -18.545602068), (-6.968959178, -18.212182955))
            Line((-6.968959178, -18.212182955), (-7.742403648, -20.592600267))
            ThreePointArc((-7.742403648, -20.592600267), (-6.798373876, -20.923243358), (-5.840290615, -21.210634256))
        make_face()
    extrude(amount=BOSS_EXTRU_1_DEPTH)

    # Esquisse4 → Boss.-Extru.3 (add)
    with BuildSketch(Plane(origin=(0, 0, 0), x_dir=(-1, 0, 0), z_dir=(0, 0, -1))):
        Circle(ESQUISSE4_R)
        Circle(ESQUISSE4_R_2, mode=Mode.SUBTRACT)
    extrude(amount=-BOSS_EXTRU_3_DEPTH)


solid = part.part
